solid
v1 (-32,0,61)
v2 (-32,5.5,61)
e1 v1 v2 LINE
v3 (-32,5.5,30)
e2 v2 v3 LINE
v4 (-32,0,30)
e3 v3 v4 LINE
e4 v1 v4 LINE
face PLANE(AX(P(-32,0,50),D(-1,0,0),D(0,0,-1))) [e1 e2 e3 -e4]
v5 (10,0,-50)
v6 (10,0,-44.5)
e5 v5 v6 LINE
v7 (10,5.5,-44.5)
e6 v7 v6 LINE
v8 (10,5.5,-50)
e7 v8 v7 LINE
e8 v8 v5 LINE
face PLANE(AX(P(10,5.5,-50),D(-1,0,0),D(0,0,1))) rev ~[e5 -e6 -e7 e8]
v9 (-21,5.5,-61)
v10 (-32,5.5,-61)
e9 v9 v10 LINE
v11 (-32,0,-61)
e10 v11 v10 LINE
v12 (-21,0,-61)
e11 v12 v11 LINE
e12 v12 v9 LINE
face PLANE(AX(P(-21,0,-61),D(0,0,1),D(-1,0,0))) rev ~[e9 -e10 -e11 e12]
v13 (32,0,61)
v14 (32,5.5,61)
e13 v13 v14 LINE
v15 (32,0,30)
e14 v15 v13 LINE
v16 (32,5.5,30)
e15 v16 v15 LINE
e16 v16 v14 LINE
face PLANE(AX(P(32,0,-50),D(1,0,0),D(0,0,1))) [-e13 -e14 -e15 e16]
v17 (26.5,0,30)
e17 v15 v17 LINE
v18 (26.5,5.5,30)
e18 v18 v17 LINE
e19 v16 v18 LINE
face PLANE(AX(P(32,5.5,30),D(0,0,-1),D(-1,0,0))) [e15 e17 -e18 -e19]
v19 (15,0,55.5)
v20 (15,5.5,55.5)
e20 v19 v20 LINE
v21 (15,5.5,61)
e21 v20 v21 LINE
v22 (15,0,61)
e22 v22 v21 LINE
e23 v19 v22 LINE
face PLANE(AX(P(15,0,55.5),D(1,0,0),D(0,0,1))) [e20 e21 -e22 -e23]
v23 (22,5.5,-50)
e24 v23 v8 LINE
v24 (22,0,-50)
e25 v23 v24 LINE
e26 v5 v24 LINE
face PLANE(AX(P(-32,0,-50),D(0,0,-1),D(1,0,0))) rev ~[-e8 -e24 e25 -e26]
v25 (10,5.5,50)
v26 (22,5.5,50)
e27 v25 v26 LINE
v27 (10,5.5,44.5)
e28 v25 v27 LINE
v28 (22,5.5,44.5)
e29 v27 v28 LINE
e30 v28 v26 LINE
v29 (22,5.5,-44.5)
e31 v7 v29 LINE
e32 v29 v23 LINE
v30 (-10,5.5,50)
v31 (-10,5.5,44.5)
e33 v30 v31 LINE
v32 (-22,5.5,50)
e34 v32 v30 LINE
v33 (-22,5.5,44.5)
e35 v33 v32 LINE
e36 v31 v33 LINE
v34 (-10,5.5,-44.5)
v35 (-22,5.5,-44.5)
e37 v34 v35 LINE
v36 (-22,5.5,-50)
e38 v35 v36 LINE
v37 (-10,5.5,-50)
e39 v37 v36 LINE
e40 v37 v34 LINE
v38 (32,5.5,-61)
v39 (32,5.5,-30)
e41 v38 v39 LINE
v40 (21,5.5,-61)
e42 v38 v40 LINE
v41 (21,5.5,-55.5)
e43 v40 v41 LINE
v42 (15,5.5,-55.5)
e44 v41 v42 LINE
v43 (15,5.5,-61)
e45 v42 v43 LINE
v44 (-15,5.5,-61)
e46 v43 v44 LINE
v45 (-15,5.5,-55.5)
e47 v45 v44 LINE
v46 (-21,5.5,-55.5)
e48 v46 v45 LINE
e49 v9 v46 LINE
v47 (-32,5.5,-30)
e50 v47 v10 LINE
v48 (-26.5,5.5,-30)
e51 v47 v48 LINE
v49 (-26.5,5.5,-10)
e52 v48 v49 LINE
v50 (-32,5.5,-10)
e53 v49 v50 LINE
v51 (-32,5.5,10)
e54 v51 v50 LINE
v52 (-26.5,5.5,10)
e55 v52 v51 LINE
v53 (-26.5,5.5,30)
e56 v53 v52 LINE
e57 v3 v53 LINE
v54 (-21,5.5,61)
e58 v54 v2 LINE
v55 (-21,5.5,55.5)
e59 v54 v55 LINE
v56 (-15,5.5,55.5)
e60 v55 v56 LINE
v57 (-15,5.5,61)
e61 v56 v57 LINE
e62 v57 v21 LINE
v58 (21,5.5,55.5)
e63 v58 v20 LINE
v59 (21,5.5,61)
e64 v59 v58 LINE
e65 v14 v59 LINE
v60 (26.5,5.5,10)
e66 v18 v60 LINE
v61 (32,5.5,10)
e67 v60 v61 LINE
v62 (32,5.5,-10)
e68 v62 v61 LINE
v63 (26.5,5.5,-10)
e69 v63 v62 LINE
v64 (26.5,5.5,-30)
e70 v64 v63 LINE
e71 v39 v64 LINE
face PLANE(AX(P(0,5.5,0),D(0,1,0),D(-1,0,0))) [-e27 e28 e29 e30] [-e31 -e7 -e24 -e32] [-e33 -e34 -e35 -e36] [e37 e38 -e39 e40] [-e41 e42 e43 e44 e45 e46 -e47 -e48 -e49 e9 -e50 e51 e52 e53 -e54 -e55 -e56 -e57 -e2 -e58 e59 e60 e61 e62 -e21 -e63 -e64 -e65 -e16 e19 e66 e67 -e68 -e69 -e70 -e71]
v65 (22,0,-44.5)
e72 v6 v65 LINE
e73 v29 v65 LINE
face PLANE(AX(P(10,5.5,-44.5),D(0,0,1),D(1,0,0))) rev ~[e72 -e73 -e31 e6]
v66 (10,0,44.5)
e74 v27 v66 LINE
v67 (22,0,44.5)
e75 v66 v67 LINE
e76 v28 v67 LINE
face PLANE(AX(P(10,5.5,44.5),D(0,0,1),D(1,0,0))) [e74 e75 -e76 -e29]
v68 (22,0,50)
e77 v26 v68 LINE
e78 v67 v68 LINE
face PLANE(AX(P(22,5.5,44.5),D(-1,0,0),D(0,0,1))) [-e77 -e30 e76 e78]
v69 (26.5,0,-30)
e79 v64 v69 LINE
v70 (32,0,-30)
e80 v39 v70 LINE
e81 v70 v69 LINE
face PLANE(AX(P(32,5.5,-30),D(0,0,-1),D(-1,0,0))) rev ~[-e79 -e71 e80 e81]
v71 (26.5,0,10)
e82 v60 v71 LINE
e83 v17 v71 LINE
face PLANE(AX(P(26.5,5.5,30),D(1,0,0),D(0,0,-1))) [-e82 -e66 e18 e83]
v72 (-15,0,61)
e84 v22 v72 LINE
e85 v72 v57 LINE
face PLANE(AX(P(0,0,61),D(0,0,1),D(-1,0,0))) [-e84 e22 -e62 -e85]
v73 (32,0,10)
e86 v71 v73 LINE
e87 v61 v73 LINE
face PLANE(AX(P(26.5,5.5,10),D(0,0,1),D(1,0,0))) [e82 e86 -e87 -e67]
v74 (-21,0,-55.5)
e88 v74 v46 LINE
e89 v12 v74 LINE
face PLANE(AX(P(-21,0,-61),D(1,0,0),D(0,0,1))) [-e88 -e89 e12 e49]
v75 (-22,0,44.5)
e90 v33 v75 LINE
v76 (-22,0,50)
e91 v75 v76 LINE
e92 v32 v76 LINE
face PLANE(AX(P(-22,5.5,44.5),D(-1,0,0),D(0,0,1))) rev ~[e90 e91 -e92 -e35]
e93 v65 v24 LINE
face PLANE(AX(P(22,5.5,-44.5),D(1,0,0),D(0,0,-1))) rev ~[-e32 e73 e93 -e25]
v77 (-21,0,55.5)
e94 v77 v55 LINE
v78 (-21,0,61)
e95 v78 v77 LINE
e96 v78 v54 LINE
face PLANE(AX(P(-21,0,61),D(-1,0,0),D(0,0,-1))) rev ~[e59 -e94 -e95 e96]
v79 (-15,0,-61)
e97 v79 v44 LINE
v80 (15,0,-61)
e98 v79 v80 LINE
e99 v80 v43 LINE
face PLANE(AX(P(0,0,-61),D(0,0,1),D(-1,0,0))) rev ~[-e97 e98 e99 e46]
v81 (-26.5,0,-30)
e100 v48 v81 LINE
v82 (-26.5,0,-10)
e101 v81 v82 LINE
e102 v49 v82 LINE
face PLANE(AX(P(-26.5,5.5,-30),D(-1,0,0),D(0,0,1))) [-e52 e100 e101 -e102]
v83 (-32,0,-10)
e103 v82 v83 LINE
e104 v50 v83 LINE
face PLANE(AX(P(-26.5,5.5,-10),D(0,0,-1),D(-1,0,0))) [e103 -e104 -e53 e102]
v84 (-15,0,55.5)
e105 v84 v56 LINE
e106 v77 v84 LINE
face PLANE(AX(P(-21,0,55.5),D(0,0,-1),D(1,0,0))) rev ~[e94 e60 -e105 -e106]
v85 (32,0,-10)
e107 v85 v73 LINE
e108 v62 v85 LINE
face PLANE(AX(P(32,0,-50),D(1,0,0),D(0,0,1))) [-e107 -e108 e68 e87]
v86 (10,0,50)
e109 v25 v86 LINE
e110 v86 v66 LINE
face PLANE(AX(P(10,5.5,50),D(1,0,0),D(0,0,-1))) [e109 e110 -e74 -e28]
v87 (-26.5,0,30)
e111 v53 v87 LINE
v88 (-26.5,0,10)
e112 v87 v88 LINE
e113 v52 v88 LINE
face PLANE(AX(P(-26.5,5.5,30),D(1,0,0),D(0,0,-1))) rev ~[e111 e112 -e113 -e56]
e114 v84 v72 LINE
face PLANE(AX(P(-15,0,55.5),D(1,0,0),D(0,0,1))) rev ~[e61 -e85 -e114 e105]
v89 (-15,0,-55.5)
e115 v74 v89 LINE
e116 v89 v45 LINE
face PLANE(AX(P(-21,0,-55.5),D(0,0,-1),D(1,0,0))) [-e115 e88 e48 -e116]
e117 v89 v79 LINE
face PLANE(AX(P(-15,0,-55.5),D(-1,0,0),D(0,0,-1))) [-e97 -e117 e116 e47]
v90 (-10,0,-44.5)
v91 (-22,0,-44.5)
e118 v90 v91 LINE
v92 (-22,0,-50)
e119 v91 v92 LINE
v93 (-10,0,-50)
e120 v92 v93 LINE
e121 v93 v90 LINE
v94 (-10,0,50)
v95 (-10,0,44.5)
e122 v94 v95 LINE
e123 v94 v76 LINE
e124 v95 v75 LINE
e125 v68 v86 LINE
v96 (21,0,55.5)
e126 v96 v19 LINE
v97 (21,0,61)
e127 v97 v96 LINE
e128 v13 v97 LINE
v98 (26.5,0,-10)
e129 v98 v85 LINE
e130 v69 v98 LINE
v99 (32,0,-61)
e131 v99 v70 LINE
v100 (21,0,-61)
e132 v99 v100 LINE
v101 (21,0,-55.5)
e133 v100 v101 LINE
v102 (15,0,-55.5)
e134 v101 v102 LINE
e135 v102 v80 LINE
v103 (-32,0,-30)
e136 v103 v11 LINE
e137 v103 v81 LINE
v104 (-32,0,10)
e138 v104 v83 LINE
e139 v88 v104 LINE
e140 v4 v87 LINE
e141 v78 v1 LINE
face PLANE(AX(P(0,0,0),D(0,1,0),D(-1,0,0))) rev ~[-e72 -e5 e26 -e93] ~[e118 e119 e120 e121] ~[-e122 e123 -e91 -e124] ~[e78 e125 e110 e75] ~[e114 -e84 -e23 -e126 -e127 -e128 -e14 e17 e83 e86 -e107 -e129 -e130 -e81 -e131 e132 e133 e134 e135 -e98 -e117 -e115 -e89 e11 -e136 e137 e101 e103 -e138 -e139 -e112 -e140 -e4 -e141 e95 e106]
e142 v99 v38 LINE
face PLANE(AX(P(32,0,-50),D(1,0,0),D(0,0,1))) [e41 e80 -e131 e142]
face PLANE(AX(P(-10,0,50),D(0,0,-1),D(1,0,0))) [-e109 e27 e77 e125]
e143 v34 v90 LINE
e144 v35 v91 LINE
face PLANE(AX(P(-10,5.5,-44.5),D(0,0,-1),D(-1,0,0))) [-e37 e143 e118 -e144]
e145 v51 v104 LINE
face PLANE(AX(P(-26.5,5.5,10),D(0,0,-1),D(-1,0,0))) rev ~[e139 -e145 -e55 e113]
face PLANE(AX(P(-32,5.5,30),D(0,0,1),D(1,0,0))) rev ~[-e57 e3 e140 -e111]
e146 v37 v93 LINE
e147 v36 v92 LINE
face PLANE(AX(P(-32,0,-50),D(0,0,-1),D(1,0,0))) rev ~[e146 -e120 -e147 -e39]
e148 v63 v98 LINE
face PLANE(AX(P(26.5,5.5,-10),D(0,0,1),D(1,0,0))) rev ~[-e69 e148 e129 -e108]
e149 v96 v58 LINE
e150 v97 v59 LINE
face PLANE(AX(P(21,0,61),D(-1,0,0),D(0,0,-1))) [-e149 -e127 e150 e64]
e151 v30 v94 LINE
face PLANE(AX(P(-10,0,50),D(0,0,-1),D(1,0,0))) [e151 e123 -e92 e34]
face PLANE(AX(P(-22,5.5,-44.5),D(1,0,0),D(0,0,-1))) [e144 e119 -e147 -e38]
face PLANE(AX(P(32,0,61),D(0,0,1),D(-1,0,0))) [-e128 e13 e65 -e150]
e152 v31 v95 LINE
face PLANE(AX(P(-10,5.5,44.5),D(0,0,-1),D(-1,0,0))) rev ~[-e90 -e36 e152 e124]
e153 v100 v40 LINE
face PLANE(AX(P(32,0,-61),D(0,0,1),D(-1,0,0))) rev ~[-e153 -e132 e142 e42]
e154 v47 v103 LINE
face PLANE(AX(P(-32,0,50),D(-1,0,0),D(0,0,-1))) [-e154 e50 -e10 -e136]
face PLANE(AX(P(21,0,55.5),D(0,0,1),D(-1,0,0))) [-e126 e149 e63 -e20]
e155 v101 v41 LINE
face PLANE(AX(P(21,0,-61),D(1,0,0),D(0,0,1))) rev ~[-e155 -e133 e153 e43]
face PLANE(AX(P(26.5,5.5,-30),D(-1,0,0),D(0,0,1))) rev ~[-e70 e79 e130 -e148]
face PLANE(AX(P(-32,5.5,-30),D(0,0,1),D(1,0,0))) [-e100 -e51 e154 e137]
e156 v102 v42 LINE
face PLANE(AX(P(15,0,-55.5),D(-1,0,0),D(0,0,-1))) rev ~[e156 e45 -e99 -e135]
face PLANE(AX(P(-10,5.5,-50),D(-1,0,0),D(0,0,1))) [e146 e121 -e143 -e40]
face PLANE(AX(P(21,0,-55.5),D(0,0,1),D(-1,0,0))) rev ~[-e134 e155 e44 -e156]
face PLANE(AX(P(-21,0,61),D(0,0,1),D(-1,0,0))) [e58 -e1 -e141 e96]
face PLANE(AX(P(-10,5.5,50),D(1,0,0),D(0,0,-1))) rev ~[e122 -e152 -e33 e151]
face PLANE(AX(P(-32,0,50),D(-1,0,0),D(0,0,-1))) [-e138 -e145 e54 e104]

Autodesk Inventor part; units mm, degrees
ref_plane "YZ Plane" through (0, 0, 0) normal (1, 0, 0) x (0, 1, 0)
ref_plane "XZ Plane" through (0, 0, 0) normal (0, 1, 0) x (-1, 0, 0)
ref_plane "XY Plane" through (0, 0, 0) normal (0, 0, 1) x (1, 0, 0)
sketch "Block1" plane through (0, 0, 0) normal (0, 0, 1) x (1, 0, 0)
  line L0 (-15.1, 61.1) -> (15.1, 61.1)
  line L1 (15.1, 61.1) -> (15.1, 52.1)
  line L2 (15.1, 52.1) -> (20.9, 52.1)
  line L3 (20.9, 52.1) -> (20.9, 61.1)
  line L4 (20.9, 61.1) -> (35.6, 61.1)
  line L5 (35.6, 61.1) -> (35.6, 29.9)
  line L6 (35.6, 29.9) -> (26.6, 29.9)
  line L7 (26.6, 29.9) -> (26.6, 10.1)
  line L8 (26.6, 10.1) -> (35.6, 10.1)
  line L9 (35.6, 10.1) -> (35.6, -10.1)
  line L10 (35.6, -10.1) -> (26.6, -10.1)
  line L11 (26.6, -10.1) -> (26.6, -29.9)
  line L12 (26.6, -29.9) -> (35.6, -29.9)
  line L13 (35.6, -29.9) -> (35.6, -61.1)
  line L14 (35.6, -61.1) -> (20.9, -61.1)
  line L15 (20.9, -61.1) -> (20.9, -52.1)
  line L16 (20.9, -52.1) -> (15.1, -52.1)
  line L17 (15.1, -52.1) -> (15.1, -61.1)
  line L18 (15.1, -61.1) -> (-15.1, -61.1)
  line L19 (-15.1, -61.1) -> (-15.1, -52.1)
  line L20 (-15.1, -52.1) -> (-20.9, -52.1)
  line L21 (-20.9, -52.1) -> (-20.9, -61.1)
  line L22 (-20.9, -61.1) -> (-35.6, -61.1)
  line L23 (-35.6, -61.1) -> (-35.6, -29.9)
  line L24 (-35.6, -29.9) -> (-26.6, -29.9)
  line L25 (-26.6, -29.9) -> (-26.6, -10.1)
  line L26 (-26.6, -10.1) -> (-35.6, -10.1)
  line L27 (-35.6, -10.1) -> (-35.6, 10.1)
  line L28 (-35.6, 10.1) -> (-26.6, 10.1)
  line L29 (-26.6, 10.1) -> (-26.6, 29.9)
  line L30 (-26.6, 29.9) -> (-35.6, 29.9)
  line L31 (-35.6, 29.9) -> (-35.6, 61.1)
  line L32 (-35.6, 61.1) -> (-20.9, 61.1)
  line L33 (-20.9, 61.1) -> (-20.9, 52.1)
  line L34 (-20.9, 52.1) -> (-15.1, 52.1)
  line L35 (-15.1, 52.1) -> (-15.1, 61.1)
  line L36 (-9.9, 50.1) -> (-22.1, 50.1)
  line L37 (-22.1, 50.1) -> (-22.1, 40.9)
  line L38 (-22.1, 40.9) -> (-9.9, 40.9)
  line L39 (-9.9, 40.9) -> (-9.9, 50.1)
  line L40 (22.1, 50.1) -> (22.1, 40.9)
  line L41 (22.1, 40.9) -> (9.9, 40.9)
  line L42 (9.9, 40.9) -> (9.9, 50.1)
  line L43 (9.9, 50.1) -> (22.1, 50.1)
  line L44 (22.1, -40.9) -> (9.9, -40.9)
  line L45 (9.9, -40.9) -> (9.9, -50.1)
  line L46 (9.9, -50.1) -> (22.1, -50.1)
  line L47 (22.1, -50.1) -> (22.1, -40.9)
  line L48 (-9.9, -40.9) -> (-22.1, -40.9)
  line L49 (-22.1, -40.9) -> (-22.1, -50.1)
  line L50 (-22.1, -50.1) -> (-9.9, -50.1)
  line L51 (-9.9, -50.1) -> (-9.9, -40.9)
  point P0 (0, 0)
sketch "Block2" plane through (0, 0, 0) normal (0, 0, 1) x (1, 0, 0)
  line L0 (20.8, 61.2) -> (35.7, 61.2)
  line L1 (35.7, 61.2) -> (35.7, 29.8)
  line L2 (35.7, 29.8) -> (26.7, 29.8)
  line L3 (26.7, 29.8) -> (26.7, 10.2)
  line L4 (26.7, 10.2) -> (35.7, 10.2)
  line L5 (35.7, 10.2) -> (35.7, -10.2)
  line L6 (35.7, -10.2) -> (26.7, -10.2)
  line L7 (26.7, -10.2) -> (26.7, -29.8)
  line L8 (26.7, -29.8) -> (35.7, -29.8)
  line L9 (35.7, -29.8) -> (35.7, -61.2)
  line L10 (35.7, -61.2) -> (20.8, -61.2)
  line L11 (20.8, -61.2) -> (20.8, -52.2)
  line L12 (20.8, -52.2) -> (15.2, -52.2)
  line L13 (15.2, -52.2) -> (15.2, -61.2)
  line L14 (15.2, -61.2) -> (-15.2, -61.2)
  line L15 (-15.2, -61.2) -> (-15.2, -52.2)
  line L16 (-15.2, -52.2) -> (-20.8, -52.2)
  line L17 (-20.8, -52.2) -> (-20.8, -61.2)
  line L18 (-20.8, -61.2) -> (-35.7, -61.2)
  line L19 (-35.7, -61.2) -> (-35.7, -29.8)
  line L20 (-35.7, -29.8) -> (-26.7, -29.8)
  line L21 (-26.7, -29.8) -> (-26.7, -10.2)
  line L22 (-26.7, -10.2) -> (-35.7, -10.2)
  line L23 (-35.7, -10.2) -> (-35.7, 10.2)
  line L24 (-35.7, 10.2) -> (-26.7, 10.2)
  line L25 (-26.7, 10.2) -> (-26.7, 29.8)
  line L26 (-26.7, 29.8) -> (-35.7, 29.8)
  line L27 (-35.7, 29.8) -> (-35.7, 61.2)
  line L28 (-35.7, 61.2) -> (-20.8, 61.2)
  line L29 (-20.8, 61.2) -> (-20.8, 52.2)
  line L30 (-20.8, 52.2) -> (-15.2, 52.2)
  line L31 (-15.2, 52.2) -> (-15.2, 61.2)
  line L32 (-15.2, 61.2) -> (15.2, 61.2)
  line L33 (15.2, 61.2) -> (15.2, 52.2)
  line L34 (15.2, 52.2) -> (20.8, 52.2)
  line L35 (20.8, 52.2) -> (20.8, 61.2)
  line L36 (22.2, 50.2) -> (22.2, 40.8)
  line L37 (22.2, 40.8) -> (9.8, 40.8)
  line L38 (9.8, 40.8) -> (9.8, 50.2)
  line L39 (9.8, 50.2) -> (22.2, 50.2)
  line L40 (-9.8, 50.2) -> (-22.2, 50.2)
  line L41 (-22.2, 50.2) -> (-22.2, 40.8)
  line L42 (-22.2, 40.8) -> (-9.8, 40.8)
  line L43 (-9.8, 40.8) -> (-9.8, 50.2)
  line L44 (-9.8, -40.8) -> (-22.2, -40.8)
  line L45 (-22.2, -40.8) -> (-22.2, -50.2)
  line L46 (-22.2, -50.2) -> (-9.8, -50.2)
  line L47 (-9.8, -50.2) -> (-9.8, -40.8)
  line L48 (22.2, -40.8) -> (9.8, -40.8)
  line L49 (9.8, -40.8) -> (9.8, -50.2)
  line L50 (9.8, -50.2) -> (22.2, -50.2)
  line L51 (22.2, -50.2) -> (22.2, -40.8)
  point P0 (0, 0)
sketch "Block3" plane through (0, 0, 0) normal (0, 0, 1) x (1, 0, 0)
  line L0 (20.9, 61.1) -> (35.6, 61.1)
  line L1 (35.6, 61.1) -> (35.6, 29.9)
  line L2 (35.6, 29.9) -> (26.6, 29.9)
  line L3 (26.6, 29.9) -> (26.6, 10.1)
  line L4 (26.6, 10.1) -> (35.6, 10.1)
  line L5 (35.6, 10.1) -> (35.6, -10.1)
  line L6 (35.6, -10.1) -> (26.6, -10.1)
  line L7 (26.6, -10.1) -> (26.6, -29.9)
  line L8 (26.6, -29.9) -> (35.6, -29.9)
  line L9 (35.6, -29.9) -> (35.6, -61.1)
  line L10 (35.6, -61.1) -> (20.9, -61.1)
  line L11 (20.9, -61.1) -> (20.9, -52.1)
  line L12 (20.9, -52.1) -> (15.1, -52.1)
  line L13 (15.1, -52.1) -> (15.1, -61.1)
  line L14 (15.1, -61.1) -> (-15.1, -61.1)
  line L15 (-15.1, -61.1) -> (-15.1, -52.1)
  line L16 (-15.1, -52.1) -> (-20.9, -52.1)
  line L17 (-20.9, -52.1) -> (-20.9, -61.1)
  line L18 (-20.9, -61.1) -> (-35.6, -61.1)
  line L19 (-35.6, -61.1) -> (-35.6, -29.9)
  line L20 (-35.6, -29.9) -> (-26.6, -29.9)
  line L21 (-26.6, -29.9) -> (-26.6, -10.1)
  line L22 (-26.6, -10.1) -> (-35.6, -10.1)
  line L23 (-35.6, -10.1) -> (-35.6, 10.1)
  line L24 (-35.6, 10.1) -> (-26.6, 10.1)
  line L25 (-26.6, 10.1) -> (-26.6, 29.9)
  line L26 (-26.6, 29.9) -> (-35.6, 29.9)
  line L27 (-35.6, 29.9) -> (-35.6, 61.1)
  line L28 (-35.6, 61.1) -> (-20.9, 61.1)
  line L29 (-20.9, 61.1) -> (-20.9, 52.1)
  line L30 (-20.9, 52.1) -> (-15.1, 52.1)
  line L31 (-15.1, 52.1) -> (-15.1, 61.1)
  line L32 (-15.1, 61.1) -> (15.1, 61.1)
  line L33 (15.1, 61.1) -> (15.1, 52.1)
  line L34 (15.1, 52.1) -> (20.9, 52.1)
  line L35 (20.9, 52.1) -> (20.9, 61.1)
  line L36 (22.1, 50.1) -> (22.1, 40.9)
  line L37 (22.1, 40.9) -> (9.9, 40.9)
  line L38 (9.9, 40.9) -> (9.9, 50.1)
  line L39 (9.9, 50.1) -> (22.1, 50.1)
  line L40 (-9.9, 50.1) -> (-22.1, 50.1)
  line L41 (-22.1, 50.1) -> (-22.1, 40.9)
  line L42 (-22.1, 40.9) -> (-9.9, 40.9)
  line L43 (-9.9, 40.9) -> (-9.9, 50.1)
  line L44 (-9.9, -40.9) -> (-22.1, -40.9)
  line L45 (-22.1, -40.9) -> (-22.1, -50.1)
  line L46 (-22.1, -50.1) -> (-9.9, -50.1)
  line L47 (-9.9, -50.1) -> (-9.9, -40.9)
  line L48 (22.1, -40.9) -> (9.9, -40.9)
  line L49 (9.9, -40.9) -> (9.9, -50.1)
  line L50 (9.9, -50.1) -> (22.1, -50.1)
  line L51 (22.1, -50.1) -> (22.1, -40.9)
  point P0 (0, 0)
sketch "Block4" plane through (0, 0, 0) normal (0, 0, 1) x (1, 0, 0)
  line L0 (-15.08, 61.08) -> (15.08, 61.08)
  line L1 (15.08, 61.08) -> (15.08, 55.58)
  line L2 (15.08, 55.58) -> (20.92, 55.58)
  line L3 (20.92, 55.58) -> (20.92, 61.08)
  line L4 (20.92, 61.08) -> (32.08, 61.08)
  line L5 (32.08, 61.08) -> (32.08, 29.92)
  line L6 (32.08, 29.92) -> (26.58, 29.92)
  line L7 (26.58, 29.92) -> (26.58, 10.08)
  line L8 (26.58, 10.08) -> (32.08, 10.08)
  line L9 (32.08, 10.08) -> (32.08, -10.08)
  line L10 (32.08, -10.08) -> (26.58, -10.08)
  line L11 (26.58, -10.08) -> (26.58, -29.92)
  line L12 (26.58, -29.92) -> (32.08, -29.92)
  line L13 (32.08, -29.92) -> (32.08, -61.08)
  line L14 (32.08, -61.08) -> (20.92, -61.08)
  line L15 (20.92, -61.08) -> (20.92, -55.58)
  line L16 (20.92, -55.58) -> (15.08, -55.58)
  line L17 (15.08, -55.58) -> (15.08, -61.08)
  line L18 (15.08, -61.08) -> (-15.08, -61.08)
  line L19 (-15.08, -61.08) -> (-15.08, -55.58)
  line L20 (-15.08, -55.58) -> (-20.92, -55.58)
  line L21 (-20.92, -55.58) -> (-20.92, -61.08)
  line L22 (-20.92, -61.08) -> (-32.08, -61.08)
  line L23 (-32.08, -61.08) -> (-32.08, -29.92)
  line L24 (-32.08, -29.92) -> (-26.58, -29.92)
  line L25 (-26.58, -29.92) -> (-26.58, -10.08)
  line L26 (-26.58, -10.08) -> (-32.08, -10.08)
  line L27 (-32.08, -10.08) -> (-32.08, 10.08)
  line L28 (-32.08, 10.08) -> (-26.58, 10.08)
  line L29 (-26.58, 10.08) -> (-26.58, 29.92)
  line L30 (-26.58, 29.92) -> (-32.08, 29.92)
  line L31 (-32.08, 29.92) -> (-32.08, 61.08)
  line L32 (-32.08, 61.08) -> (-20.92, 61.08)
  line L33 (-20.92, 61.08) -> (-20.92, 55.58)
  line L34 (-20.92, 55.58) -> (-15.08, 55.58)
  line L35 (-15.08, 55.58) -> (-15.08, 61.08)
  line L36 (-9.92, 50.08) -> (-22.08, 50.08)
  line L37 (-22.08, 50.08) -> (-22.08, 44.42)
  line L38 (-22.08, 44.42) -> (-9.92, 44.42)
  line L39 (-9.92, 44.42) -> (-9.92, 50.08)
  line L40 (22.08, 50.08) -> (22.08, 44.42)
  line L41 (22.08, 44.42) -> (9.92, 44.42)
  line L42 (9.92, 44.42) -> (9.92, 50.08)
  line L43 (9.92, 50.08) -> (22.08, 50.08)
  line L44 (-9.92, -44.42) -> (-22.08, -44.42)
  line L45 (-22.08, -44.42) -> (-22.08, -50.08)
  line L46 (-22.08, -50.08) -> (-9.92, -50.08)
  line L47 (-9.92, -50.08) -> (-9.92, -44.42)
  line L48 (22.08, -44.42) -> (9.92, -44.42)
  line L49 (9.92, -44.42) -> (9.92, -50.08)
  line L50 (9.92, -50.08) -> (22.08, -50.08)
  line L51 (22.08, -50.08) -> (22.08, -44.42)
  point P0 (0, 0)
sketch "Sketch1" plane through (0, 0, 0) normal (0, 1, 0) x (-1, 0, 0)
  line L0 (32, -50) -> (-32, -50)
  line L1 (-32, -50) -> (-32, 50)
  line L2 (-32, 50) -> (32, 50)
  line L3 (32, 50) -> (32, -50)
  line L4 (32, -50) -> (-32, 50) construction
  line L5 (-32, -50) -> (32, 50) construction
  point P0 (0, 0)
  dimension "d0" = 64
  dimension "d1" = 100
extrude "Extrusion1" add sketch "Sketch1" along normal blind 5.5
sketch "Sketch5" plane through (0, 5.5, 0) normal (0, 1, 0) x (1, 0, 0)
  line L0 (32, 50) -> (-32, 50) projected
  line L1 (-32, 50) -> (-32, -50) projected
  line L2 (-32, 30) -> (-26.5, 30)
  line L3 (-26.5, 30) -> (-26.5, 10)
  line L4 (-26.5, 10) -> (-32, 10)
  line L5 (-32, 10) -> (-32, 30)
  line L6 (-66.327, 0) -> (148.7623, 0) projected
  line L7 (0, 85.6282) -> (0, -86.069) projected
  line L8 (-32, -30) -> (-26.5, -30)
  line L9 (-26.5, -30) -> (-26.5, -10)
  line L10 (-26.5, -10) -> (-32, -10)
  line L11 (-32, -10) -> (-32, -30)
  line L12 (32, 30) -> (26.5, 30)
  line L13 (26.5, 30) -> (26.5, 10)
  line L14 (26.5, 10) -> (32, 10)
  line L15 (32, 10) -> (32, 30)
  line L16 (32, -30) -> (26.5, -30)
  line L17 (26.5, -30) -> (26.5, -10)
  line L18 (26.5, -10) -> (32, -10)
  line L19 (32, -10) -> (32, -30)
  point P0 (0, 0)
  dimension "d12" = 20
  dimension "d13" = 20
  dimension "d14" = 5.5
extrude "Extrusion3" cut sketch "Sketch5" against normal through all contours L10 L9 L8 L1 | L2 L3 L4 L1 | L15 L14 L13 L12 | L16 L17 L18 L19
sketch "Sketch6" plane through (0, 5.5, 0) normal (0, 1, 0) x (1, 0, 0)
  line L0 (32, 50) -> (-32, 50) projected
  line L1 (-66.327, 0) -> (148.7623, 0) projected
  line L2 (0, 85.6282) -> (0, -86.069) projected
  line L3 (-22, 50) -> (-10, 50)
  line L4 (-10, 50) -> (-10, 44.5)
  line L5 (-10, 44.5) -> (-22, 44.5)
  line L6 (-22, 44.5) -> (-22, 50)
  line L7 (22, 50) -> (10, 50)
  line L8 (10, 50) -> (10, 44.5)
  line L9 (10, 44.5) -> (22, 44.5)
  line L10 (22, 44.5) -> (22, 50)
  line L11 (-22, -50) -> (-10, -50)
  line L12 (-10, -50) -> (-10, -44.5)
  line L13 (-10, -44.5) -> (-22, -44.5)
  line L14 (-22, -44.5) -> (-22, -50)
  line L15 (10, -44.5) -> (22, -44.5)
  line L16 (22, -50) -> (10, -50)
  line L17 (10, -50) -> (10, -44.5)
  line L18 (22, -44.5) -> (22, -50)
  point P0 (0, 0)
  dimension "d17" = 5.5
  dimension "d18" = 12
  dimension "d19" = 20
extrude "Extrusion4" cut sketch "Sketch6" against normal through all
sketch "Sketch7" plane through (0, 0, 0) normal (0, -1, 0) x (1, 0, 0)
  line L0 (-32, -50) -> (32, -50)
  line L1 (32, -50) -> (32, -61)
  line L2 (32, -61) -> (-32, -61)
  line L3 (-32, -61) -> (-32, -50)
  line L4 (-66.327, 0) -> (148.7623, 0) projected
  line L5 (0, -85.6282) -> (0, 86.069) projected
  line L6 (-15, -61) -> (-21, -61)
  line L7 (-21, -61) -> (-21, -55.5)
  line L8 (-21, -55.5) -> (-15, -55.5)
  line L9 (-15, -55.5) -> (-15, -61)
  line L10 (15, -61) -> (21, -61)
  line L11 (21, -61) -> (21, -55.5)
  line L12 (21, -55.5) -> (15, -55.5)
  line L13 (15, -55.5) -> (15, -61)
  line L14 (-32, 50) -> (32, 50)
  line L15 (32, 50) -> (32, 61)
  line L16 (32, 61) -> (-32, 61)
  line L17 (-32, 61) -> (-32, 50)
  line L18 (-32, 50) -> (-22, 50)
  line L19 (-10, 50) -> (10, 50)
  line L20 (22, 50) -> (32, 50)
  line L21 (-15, 61) -> (-21, 61)
  line L22 (-21, 61) -> (-21, 55.5)
  line L23 (-21, 55.5) -> (-15, 55.5)
  line L24 (-15, 55.5) -> (-15, 61)
  line L25 (21, 55.5) -> (15, 55.5)
  line L26 (15, 55.5) -> (15, 61)
  line L27 (15, 61) -> (21, 61)
  line L28 (21, 61) -> (21, 55.5)
  point P0 (0, 0)
  point P1 (32, -50)
  dimension "d22" = 11
  dimension "d23" = 6
  dimension "d24" = 5.5
  dimension "d32" = 15
  dimension "d55" = 64
extrude "Extrusion7" add sketch "Sketch7" against normal blind 5.5 contours L14 L17 L16 L22 L23 L24 L5 | L5 L16 L26 L25 L28 L15 L14 | L0 L5 L2 L9 L8 L7 L3 | L0 L1 L2 L11 L12 L13 L5
equation "\"d2\" = Wt"
equation "\"d14\" = Wt"
equation "\"d15\" = Wt"
equation "\"d17\" = Wt"
equation "\"d20\" = Wt"
equation "\"d24\" = Wt"
equation "\"d55\" = d0"
equation "\"d33\" = Wt"
equation "\"Wt\" = 5.5"
properties part number "holder_ceil_plate" material "Wood (Birch)"
